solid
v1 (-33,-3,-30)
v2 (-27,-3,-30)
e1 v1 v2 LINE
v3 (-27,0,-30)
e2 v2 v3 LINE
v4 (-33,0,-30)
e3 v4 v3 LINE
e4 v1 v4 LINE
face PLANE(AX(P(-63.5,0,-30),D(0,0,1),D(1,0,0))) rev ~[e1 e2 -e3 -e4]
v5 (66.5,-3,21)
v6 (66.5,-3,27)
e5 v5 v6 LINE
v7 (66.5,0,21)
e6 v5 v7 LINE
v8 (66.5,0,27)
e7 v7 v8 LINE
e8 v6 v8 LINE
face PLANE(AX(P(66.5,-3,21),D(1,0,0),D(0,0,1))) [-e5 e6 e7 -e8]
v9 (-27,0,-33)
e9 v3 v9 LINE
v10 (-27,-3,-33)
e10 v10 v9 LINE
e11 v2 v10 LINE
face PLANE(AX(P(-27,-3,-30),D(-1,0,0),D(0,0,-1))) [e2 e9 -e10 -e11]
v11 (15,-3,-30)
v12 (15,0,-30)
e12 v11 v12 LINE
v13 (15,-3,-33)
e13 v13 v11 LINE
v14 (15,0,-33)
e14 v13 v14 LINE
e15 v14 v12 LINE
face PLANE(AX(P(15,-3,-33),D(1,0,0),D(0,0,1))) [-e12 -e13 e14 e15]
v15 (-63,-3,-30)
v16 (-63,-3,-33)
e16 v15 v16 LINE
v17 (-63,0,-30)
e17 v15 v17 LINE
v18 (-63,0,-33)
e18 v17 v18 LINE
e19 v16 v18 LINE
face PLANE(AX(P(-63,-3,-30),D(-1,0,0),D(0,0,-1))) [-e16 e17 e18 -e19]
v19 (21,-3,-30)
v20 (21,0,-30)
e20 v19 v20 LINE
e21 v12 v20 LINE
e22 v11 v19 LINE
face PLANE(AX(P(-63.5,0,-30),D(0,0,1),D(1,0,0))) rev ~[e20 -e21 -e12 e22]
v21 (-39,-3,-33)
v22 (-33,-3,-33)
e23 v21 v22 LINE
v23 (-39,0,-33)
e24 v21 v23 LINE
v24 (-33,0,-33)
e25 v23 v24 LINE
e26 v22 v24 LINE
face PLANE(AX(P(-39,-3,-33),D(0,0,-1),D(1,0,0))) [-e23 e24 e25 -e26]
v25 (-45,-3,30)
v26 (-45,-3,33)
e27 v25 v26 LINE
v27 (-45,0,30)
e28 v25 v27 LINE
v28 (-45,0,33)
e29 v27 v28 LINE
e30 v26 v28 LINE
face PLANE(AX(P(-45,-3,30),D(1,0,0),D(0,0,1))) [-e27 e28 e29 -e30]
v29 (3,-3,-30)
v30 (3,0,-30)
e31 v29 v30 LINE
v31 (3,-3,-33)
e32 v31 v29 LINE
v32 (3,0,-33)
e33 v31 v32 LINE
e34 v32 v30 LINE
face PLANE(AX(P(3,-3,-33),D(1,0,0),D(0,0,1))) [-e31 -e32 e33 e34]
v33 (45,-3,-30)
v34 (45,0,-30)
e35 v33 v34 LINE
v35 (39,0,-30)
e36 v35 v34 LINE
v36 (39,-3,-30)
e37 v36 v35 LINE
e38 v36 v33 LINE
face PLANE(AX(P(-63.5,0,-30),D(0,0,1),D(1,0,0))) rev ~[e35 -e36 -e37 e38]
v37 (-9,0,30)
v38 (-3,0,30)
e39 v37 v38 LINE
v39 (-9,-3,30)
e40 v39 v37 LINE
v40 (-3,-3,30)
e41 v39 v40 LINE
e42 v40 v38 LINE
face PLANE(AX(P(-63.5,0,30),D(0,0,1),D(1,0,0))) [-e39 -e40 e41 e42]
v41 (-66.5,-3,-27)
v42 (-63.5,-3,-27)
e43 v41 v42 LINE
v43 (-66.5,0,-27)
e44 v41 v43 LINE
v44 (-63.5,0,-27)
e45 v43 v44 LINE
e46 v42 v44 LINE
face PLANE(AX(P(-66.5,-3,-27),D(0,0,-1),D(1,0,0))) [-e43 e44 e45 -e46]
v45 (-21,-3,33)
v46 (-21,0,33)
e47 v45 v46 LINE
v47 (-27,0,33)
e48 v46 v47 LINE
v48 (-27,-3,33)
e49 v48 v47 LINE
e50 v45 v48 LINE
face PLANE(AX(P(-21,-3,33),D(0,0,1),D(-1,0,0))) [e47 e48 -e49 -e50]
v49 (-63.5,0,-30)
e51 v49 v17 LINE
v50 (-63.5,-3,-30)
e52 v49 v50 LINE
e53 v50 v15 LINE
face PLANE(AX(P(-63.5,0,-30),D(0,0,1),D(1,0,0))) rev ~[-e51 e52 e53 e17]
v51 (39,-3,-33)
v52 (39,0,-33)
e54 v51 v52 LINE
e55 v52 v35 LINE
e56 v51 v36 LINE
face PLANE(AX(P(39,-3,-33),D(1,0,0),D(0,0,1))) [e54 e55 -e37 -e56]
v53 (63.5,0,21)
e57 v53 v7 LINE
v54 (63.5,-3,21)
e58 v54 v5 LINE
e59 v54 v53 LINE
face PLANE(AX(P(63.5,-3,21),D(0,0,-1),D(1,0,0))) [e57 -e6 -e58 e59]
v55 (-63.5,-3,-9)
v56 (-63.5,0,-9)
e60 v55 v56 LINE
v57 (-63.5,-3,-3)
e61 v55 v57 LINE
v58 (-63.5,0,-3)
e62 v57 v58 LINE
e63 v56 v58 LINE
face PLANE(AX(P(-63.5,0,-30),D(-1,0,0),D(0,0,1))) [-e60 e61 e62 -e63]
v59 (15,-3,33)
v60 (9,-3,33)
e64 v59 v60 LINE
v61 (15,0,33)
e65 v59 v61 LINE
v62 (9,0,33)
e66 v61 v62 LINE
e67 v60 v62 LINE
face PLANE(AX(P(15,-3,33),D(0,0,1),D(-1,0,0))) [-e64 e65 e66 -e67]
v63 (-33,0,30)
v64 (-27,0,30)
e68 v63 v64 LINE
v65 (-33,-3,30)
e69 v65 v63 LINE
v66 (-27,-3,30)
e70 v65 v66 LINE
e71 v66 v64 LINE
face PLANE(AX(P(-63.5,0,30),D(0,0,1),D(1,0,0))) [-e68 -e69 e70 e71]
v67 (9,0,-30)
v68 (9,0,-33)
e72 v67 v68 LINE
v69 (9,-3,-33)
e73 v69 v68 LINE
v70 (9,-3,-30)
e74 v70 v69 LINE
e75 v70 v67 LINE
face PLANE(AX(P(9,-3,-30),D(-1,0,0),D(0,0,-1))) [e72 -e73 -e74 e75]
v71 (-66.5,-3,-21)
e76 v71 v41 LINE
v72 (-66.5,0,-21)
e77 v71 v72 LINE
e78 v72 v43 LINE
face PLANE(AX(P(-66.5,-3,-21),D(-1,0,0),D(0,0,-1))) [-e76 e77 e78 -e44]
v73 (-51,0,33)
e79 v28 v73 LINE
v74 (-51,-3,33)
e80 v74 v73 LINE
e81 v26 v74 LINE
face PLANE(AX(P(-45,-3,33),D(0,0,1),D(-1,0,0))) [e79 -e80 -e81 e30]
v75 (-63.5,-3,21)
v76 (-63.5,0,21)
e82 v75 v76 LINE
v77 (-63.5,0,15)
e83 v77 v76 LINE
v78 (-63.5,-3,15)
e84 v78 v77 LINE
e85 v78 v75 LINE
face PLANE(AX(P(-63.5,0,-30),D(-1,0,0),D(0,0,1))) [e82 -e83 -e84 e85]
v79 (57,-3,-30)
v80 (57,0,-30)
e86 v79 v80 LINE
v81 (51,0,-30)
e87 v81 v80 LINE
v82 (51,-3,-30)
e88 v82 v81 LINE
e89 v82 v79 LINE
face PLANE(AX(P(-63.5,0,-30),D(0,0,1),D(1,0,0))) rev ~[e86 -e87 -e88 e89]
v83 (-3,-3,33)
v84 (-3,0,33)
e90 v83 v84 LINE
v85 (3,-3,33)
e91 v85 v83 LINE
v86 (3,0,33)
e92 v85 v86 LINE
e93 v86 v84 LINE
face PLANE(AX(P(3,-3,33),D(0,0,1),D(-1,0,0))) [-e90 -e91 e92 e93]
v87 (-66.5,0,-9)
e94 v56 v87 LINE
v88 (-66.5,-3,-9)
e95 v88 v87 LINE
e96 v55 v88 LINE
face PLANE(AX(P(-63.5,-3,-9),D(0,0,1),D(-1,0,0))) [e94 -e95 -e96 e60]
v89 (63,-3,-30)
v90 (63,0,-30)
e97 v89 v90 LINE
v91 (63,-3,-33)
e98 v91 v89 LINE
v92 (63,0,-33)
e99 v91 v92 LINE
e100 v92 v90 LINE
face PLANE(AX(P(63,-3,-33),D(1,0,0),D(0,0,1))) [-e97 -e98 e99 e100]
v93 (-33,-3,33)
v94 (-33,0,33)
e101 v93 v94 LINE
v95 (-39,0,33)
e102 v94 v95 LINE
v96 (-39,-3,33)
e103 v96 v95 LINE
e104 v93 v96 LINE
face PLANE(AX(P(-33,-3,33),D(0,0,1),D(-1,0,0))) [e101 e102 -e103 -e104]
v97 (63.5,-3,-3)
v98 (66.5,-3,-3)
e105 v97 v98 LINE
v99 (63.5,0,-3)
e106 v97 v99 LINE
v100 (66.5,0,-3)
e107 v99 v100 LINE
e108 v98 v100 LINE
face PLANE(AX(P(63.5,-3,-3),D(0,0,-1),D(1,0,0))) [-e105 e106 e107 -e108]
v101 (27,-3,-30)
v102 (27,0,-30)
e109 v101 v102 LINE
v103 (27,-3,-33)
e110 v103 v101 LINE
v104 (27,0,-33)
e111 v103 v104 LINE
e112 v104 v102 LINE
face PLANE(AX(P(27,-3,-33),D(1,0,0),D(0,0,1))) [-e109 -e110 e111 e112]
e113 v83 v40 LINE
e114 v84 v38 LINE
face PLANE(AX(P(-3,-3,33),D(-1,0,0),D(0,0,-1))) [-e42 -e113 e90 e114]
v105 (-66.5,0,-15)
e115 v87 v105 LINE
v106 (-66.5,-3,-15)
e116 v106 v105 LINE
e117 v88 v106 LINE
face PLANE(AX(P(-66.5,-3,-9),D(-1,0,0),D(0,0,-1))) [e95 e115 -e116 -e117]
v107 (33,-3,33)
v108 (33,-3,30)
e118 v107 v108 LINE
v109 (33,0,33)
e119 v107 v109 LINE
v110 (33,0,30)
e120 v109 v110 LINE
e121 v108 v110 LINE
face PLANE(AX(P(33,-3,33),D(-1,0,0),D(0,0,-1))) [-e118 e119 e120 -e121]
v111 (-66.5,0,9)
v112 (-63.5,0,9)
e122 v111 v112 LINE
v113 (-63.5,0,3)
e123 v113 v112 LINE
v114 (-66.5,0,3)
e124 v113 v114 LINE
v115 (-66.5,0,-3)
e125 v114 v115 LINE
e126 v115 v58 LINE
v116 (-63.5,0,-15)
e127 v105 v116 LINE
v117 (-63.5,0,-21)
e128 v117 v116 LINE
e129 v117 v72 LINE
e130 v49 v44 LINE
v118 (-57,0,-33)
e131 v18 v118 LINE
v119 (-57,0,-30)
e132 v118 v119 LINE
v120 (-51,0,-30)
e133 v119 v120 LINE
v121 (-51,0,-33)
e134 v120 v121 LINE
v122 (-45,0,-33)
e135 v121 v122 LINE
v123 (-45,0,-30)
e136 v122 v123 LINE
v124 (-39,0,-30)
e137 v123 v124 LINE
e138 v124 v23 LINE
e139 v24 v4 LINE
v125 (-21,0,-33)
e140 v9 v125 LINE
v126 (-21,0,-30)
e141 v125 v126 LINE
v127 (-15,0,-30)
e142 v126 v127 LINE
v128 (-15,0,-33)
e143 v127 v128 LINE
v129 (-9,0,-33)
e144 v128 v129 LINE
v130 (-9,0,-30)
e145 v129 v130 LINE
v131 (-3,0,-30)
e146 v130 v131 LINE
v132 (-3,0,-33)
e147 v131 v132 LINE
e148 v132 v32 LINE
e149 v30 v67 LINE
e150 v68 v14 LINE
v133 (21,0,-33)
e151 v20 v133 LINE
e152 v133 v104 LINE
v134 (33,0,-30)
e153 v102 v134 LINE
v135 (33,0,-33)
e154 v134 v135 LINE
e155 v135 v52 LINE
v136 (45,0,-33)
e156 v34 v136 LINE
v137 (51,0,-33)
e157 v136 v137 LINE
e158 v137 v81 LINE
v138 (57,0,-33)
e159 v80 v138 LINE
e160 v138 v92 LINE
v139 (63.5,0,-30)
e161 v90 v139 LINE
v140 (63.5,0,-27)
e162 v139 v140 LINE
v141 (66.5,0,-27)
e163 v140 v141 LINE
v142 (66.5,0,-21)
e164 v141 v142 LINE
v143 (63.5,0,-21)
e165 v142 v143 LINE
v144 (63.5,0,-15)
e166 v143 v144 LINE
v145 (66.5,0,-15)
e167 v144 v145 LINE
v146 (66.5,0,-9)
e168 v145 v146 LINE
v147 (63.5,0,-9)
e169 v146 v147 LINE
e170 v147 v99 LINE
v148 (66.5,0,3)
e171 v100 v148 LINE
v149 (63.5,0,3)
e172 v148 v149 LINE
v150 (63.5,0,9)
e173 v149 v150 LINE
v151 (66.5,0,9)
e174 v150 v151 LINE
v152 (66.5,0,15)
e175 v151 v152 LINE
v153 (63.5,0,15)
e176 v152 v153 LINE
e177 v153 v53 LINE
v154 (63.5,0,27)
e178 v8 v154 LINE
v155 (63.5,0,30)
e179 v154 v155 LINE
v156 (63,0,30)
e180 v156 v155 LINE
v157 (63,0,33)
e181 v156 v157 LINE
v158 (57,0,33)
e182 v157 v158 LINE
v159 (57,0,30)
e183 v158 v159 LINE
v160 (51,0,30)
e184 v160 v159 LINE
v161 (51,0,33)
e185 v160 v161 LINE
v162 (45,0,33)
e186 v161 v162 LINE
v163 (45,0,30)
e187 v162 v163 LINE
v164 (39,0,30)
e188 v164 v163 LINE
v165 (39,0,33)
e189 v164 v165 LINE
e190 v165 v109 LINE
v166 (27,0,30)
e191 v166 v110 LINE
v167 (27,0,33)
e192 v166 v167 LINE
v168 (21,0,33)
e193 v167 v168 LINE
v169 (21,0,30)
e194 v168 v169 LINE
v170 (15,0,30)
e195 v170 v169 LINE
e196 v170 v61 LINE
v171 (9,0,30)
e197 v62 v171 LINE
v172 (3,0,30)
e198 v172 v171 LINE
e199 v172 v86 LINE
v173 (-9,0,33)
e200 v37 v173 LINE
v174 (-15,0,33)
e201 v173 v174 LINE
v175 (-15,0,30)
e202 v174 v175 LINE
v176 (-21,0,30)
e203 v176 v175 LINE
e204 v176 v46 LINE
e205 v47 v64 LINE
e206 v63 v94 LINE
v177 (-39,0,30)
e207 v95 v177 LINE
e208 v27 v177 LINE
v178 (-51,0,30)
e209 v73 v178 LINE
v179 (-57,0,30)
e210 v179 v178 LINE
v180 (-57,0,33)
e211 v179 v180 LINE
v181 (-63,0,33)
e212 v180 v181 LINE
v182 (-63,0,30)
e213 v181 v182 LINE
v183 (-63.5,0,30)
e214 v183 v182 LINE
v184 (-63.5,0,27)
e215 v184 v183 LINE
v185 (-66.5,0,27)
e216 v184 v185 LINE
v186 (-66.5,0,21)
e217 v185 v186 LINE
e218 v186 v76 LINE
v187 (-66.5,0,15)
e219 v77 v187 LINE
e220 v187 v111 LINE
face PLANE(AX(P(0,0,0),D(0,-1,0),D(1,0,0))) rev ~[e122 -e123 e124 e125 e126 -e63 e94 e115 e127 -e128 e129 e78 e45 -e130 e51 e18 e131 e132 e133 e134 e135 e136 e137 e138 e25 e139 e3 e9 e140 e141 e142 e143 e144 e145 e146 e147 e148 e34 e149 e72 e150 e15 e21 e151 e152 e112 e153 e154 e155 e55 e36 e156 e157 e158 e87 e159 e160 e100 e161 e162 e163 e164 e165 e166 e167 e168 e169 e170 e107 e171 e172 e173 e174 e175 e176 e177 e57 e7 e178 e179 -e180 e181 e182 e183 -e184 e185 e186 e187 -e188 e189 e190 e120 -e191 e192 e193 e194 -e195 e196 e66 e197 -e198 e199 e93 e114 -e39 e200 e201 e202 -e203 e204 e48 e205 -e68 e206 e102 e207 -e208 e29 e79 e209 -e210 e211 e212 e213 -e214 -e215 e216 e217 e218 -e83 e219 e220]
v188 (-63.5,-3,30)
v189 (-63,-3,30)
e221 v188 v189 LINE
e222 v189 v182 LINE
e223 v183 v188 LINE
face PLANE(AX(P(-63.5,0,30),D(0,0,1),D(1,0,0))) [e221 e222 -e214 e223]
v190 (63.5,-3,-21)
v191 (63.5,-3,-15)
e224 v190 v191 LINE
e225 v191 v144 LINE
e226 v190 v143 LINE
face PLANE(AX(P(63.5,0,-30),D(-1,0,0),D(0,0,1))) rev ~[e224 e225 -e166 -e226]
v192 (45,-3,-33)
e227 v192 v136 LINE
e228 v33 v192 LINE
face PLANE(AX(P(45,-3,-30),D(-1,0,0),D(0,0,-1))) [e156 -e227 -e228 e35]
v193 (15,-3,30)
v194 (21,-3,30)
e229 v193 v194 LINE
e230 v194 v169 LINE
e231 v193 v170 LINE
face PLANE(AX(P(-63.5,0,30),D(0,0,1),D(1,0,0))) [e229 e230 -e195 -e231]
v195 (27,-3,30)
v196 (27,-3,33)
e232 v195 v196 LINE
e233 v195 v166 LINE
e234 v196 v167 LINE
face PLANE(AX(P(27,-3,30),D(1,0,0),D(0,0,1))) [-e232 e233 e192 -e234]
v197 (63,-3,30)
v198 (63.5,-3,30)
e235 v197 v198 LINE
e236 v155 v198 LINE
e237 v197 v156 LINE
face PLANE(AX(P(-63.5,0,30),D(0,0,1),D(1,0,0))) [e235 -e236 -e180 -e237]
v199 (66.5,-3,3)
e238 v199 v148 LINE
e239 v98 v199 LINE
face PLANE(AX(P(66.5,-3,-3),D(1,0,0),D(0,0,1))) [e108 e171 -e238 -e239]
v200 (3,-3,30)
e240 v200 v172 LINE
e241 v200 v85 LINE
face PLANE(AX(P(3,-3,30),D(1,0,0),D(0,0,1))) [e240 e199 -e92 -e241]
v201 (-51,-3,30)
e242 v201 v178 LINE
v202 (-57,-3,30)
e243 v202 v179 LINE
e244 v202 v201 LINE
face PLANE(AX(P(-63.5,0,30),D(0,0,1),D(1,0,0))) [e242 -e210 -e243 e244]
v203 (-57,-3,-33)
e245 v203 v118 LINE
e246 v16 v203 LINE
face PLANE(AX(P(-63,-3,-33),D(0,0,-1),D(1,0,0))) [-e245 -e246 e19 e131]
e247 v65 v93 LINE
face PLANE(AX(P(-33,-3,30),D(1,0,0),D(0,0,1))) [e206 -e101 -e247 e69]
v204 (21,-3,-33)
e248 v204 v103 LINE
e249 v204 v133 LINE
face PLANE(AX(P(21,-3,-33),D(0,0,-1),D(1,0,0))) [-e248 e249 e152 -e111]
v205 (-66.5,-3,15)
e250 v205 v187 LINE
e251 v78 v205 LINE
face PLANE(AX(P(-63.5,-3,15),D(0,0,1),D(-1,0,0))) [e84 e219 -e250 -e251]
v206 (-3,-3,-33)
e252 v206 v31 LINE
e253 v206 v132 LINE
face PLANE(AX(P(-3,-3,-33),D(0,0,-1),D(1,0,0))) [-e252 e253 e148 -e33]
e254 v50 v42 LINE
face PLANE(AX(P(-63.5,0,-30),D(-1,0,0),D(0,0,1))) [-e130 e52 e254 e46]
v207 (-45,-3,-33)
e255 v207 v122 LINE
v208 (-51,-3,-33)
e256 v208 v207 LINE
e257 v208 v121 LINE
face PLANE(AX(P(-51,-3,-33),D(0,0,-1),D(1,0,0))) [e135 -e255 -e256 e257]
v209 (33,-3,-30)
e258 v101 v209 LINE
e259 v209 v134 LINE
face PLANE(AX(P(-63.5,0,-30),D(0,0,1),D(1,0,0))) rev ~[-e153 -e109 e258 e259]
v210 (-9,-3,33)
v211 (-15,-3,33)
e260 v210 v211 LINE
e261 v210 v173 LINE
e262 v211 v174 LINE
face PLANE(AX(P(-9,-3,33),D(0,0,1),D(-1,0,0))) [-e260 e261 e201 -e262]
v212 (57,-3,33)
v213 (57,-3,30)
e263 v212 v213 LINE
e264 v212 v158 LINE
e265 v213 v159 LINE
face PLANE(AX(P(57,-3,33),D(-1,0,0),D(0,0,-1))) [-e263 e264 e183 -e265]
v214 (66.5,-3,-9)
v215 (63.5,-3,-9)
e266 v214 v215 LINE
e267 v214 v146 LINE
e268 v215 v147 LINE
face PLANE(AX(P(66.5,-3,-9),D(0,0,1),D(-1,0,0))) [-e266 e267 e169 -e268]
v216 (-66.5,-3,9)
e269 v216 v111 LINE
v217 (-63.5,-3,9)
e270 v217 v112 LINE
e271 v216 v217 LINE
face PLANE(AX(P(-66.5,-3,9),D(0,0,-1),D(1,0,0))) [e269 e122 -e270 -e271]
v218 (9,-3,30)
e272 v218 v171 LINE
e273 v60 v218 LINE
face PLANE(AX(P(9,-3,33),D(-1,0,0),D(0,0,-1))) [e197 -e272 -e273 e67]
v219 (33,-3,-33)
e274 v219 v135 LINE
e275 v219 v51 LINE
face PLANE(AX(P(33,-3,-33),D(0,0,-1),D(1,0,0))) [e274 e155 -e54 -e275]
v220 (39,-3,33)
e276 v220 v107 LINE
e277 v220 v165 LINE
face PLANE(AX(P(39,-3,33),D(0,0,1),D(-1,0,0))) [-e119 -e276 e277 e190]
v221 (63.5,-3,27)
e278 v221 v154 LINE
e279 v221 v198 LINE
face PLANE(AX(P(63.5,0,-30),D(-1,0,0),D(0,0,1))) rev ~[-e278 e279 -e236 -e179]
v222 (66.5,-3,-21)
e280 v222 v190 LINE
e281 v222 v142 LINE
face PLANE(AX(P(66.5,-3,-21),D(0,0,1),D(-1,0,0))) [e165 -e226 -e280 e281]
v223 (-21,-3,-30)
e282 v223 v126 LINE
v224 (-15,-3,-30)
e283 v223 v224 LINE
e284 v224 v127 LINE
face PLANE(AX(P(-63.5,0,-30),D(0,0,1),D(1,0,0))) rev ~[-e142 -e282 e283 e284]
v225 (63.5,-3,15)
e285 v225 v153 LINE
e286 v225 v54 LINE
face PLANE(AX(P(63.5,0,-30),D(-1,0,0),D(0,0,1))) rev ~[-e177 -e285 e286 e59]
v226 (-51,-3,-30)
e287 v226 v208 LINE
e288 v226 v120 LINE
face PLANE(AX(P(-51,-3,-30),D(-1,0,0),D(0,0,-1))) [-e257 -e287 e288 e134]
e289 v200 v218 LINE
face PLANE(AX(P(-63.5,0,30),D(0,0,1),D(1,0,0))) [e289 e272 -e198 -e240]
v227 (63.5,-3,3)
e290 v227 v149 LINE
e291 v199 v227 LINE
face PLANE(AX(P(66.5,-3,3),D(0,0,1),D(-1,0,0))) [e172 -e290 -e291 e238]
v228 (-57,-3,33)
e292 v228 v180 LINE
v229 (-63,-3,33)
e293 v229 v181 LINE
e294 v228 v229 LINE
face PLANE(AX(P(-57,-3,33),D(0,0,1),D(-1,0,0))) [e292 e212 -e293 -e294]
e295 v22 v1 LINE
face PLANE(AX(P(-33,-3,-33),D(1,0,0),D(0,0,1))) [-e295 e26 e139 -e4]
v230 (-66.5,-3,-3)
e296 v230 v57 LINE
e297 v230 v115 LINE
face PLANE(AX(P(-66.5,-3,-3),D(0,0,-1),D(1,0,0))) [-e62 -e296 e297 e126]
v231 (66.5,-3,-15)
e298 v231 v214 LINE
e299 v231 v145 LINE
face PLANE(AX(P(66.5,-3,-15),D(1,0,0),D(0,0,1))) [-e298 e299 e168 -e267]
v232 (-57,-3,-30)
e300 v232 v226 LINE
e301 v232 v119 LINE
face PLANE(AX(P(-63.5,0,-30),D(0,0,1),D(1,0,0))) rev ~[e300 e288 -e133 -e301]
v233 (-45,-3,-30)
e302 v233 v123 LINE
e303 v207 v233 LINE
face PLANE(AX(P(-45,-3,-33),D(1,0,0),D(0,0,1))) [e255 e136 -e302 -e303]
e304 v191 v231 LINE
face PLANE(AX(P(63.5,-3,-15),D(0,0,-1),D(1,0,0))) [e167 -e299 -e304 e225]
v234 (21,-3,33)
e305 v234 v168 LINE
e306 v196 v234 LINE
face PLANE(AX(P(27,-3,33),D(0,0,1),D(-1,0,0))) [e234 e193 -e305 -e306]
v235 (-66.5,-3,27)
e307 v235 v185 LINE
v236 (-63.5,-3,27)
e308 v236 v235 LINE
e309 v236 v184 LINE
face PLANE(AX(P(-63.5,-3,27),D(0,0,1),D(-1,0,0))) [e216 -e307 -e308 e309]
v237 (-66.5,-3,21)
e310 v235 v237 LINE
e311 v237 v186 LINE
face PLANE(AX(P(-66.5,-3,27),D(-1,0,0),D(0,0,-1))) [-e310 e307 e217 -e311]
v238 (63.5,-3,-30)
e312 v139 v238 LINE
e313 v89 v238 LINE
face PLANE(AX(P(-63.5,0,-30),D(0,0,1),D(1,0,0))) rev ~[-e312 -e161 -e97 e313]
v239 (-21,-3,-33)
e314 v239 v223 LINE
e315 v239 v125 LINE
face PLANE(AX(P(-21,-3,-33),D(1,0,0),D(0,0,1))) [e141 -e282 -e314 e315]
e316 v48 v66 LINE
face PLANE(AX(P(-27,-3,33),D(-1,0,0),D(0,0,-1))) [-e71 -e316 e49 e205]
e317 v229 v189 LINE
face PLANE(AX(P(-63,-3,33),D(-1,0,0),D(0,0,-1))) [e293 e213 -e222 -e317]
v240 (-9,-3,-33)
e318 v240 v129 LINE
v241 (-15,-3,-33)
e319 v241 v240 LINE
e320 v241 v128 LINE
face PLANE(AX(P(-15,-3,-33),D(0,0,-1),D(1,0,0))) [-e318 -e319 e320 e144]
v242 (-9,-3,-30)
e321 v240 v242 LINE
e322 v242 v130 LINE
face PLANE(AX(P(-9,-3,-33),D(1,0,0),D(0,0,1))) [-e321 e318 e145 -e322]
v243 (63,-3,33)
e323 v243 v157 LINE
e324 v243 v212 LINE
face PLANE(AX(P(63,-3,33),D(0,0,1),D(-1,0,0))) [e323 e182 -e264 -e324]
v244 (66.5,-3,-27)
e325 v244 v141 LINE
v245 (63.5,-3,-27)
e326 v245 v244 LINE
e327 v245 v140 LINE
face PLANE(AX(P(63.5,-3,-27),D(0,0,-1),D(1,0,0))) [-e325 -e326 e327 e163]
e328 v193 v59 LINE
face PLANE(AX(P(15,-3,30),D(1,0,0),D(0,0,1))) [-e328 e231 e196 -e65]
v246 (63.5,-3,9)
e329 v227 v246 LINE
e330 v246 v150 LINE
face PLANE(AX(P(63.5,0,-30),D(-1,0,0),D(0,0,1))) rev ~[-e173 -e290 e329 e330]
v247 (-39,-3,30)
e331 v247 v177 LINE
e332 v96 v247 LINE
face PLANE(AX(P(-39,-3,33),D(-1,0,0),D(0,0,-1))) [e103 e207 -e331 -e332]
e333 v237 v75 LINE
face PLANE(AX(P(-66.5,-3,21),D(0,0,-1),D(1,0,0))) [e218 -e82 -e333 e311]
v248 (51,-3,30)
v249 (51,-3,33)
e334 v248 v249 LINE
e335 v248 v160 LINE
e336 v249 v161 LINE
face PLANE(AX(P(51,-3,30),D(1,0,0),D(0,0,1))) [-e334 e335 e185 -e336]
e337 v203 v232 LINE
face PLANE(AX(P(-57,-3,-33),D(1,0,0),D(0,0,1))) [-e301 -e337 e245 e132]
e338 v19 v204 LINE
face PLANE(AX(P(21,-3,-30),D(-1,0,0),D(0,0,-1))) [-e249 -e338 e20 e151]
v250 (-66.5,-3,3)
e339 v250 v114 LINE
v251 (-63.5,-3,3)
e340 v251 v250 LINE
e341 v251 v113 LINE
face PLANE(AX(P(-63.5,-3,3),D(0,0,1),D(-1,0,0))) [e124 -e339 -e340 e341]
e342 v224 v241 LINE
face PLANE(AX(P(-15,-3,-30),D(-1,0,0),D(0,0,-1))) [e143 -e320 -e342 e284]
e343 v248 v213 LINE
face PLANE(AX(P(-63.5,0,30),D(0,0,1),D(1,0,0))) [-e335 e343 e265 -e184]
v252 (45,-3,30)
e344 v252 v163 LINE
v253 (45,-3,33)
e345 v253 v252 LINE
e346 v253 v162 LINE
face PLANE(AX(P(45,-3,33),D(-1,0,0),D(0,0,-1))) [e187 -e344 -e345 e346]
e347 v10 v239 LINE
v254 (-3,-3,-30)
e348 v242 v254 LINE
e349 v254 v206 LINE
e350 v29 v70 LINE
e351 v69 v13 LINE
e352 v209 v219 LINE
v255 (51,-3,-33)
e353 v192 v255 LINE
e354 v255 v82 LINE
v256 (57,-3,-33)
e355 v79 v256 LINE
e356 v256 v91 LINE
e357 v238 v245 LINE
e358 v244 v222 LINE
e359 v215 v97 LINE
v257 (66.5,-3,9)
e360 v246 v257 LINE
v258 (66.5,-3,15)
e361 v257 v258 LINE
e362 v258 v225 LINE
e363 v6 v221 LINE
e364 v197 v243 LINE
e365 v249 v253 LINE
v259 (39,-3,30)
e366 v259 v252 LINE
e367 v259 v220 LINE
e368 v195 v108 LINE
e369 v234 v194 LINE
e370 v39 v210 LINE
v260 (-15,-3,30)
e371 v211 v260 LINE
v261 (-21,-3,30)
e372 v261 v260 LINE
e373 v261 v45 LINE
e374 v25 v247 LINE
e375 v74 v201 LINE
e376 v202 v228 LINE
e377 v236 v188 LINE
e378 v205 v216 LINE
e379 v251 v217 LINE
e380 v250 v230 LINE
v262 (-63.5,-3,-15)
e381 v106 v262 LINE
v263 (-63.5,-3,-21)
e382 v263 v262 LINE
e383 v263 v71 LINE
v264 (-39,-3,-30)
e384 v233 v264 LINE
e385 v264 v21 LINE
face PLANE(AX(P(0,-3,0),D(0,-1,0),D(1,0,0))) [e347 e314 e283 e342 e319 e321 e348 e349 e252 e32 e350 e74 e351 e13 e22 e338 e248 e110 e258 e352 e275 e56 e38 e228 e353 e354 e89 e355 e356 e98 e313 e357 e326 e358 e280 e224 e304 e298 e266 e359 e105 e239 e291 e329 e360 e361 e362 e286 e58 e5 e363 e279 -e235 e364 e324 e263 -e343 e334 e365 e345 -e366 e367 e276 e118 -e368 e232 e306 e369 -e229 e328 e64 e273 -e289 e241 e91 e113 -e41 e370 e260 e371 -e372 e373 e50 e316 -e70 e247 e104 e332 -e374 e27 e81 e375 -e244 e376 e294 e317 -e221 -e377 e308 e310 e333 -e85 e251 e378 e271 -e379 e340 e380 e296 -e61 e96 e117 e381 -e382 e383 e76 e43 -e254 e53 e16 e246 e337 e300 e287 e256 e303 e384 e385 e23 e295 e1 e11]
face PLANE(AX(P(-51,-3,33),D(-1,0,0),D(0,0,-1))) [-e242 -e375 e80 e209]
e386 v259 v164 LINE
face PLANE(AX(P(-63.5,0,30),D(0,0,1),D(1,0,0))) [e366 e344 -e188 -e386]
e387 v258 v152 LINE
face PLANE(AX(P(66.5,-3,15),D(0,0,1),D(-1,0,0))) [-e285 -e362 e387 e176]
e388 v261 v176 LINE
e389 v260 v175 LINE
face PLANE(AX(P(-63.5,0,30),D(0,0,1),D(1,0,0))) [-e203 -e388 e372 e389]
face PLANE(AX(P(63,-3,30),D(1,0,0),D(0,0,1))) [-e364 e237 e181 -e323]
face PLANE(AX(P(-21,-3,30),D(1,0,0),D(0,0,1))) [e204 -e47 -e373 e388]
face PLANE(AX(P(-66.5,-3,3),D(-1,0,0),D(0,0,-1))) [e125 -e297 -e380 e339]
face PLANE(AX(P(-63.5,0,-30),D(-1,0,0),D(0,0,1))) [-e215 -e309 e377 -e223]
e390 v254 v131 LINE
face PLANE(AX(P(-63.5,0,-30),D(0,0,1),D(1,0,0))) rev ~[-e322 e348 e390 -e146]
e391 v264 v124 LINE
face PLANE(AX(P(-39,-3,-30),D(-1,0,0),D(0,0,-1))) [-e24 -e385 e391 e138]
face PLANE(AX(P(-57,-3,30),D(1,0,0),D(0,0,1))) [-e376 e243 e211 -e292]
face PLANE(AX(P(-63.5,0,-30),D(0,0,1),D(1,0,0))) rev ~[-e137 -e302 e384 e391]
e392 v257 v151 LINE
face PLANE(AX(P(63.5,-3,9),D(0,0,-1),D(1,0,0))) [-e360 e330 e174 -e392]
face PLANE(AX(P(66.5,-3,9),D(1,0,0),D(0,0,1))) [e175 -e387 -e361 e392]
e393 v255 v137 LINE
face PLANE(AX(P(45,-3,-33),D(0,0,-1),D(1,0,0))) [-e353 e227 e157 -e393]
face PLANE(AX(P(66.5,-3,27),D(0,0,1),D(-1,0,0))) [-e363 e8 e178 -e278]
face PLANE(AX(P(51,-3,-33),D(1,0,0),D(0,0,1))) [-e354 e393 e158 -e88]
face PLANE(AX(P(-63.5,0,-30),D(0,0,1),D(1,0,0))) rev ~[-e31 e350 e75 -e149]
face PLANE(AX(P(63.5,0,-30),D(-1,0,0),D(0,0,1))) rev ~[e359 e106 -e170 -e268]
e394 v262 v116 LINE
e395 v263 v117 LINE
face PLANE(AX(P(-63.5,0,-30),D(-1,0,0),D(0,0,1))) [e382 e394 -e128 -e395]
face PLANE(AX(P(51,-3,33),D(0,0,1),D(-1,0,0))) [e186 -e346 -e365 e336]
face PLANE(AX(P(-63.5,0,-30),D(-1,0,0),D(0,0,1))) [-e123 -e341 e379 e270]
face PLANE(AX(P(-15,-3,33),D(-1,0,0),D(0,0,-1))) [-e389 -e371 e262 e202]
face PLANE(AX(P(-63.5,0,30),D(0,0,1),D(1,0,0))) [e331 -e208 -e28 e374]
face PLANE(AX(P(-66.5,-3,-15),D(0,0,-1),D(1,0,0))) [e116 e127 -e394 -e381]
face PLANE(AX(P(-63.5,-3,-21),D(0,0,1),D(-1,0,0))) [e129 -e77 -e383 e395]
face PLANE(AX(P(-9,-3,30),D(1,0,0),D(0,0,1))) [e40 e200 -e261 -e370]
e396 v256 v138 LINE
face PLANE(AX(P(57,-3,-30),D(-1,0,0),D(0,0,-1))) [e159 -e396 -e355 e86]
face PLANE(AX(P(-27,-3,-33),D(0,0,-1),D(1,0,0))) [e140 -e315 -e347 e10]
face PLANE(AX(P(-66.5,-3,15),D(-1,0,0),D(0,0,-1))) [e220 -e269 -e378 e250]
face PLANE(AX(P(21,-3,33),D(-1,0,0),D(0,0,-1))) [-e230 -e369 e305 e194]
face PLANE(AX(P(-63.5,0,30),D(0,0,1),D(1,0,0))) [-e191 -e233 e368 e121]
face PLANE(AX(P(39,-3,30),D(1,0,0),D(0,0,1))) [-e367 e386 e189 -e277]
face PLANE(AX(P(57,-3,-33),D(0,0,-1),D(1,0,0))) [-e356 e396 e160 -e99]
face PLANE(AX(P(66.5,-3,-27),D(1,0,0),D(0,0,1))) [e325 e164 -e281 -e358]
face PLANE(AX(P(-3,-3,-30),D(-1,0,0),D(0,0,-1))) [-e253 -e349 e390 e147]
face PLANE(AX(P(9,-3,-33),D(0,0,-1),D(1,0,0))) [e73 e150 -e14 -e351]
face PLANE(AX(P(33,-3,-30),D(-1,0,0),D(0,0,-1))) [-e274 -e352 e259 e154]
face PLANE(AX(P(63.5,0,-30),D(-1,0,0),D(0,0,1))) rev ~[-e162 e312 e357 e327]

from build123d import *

# Parameters (mm, degrees)
F0_W     = 127
F0_H     = 60
F1_DEPTH = 3
F3_DEPTH = 3
F5_DEPTH = 3


with BuildPart() as f1:
    # F0 (on Front) → F1 (new body)
    with BuildSketch(Plane.XZ):
        Rectangle(F0_W, F0_H)
    extrude(amount=F1_DEPTH)

    # F2 (on face) → F3 (join, through all)
    with BuildSketch(Plane.XZ.offset(3)):
        Polygon((-3, 30), (0, 30), (3, 30), (3, 33), (0, 33), (-3, 33), align=None)
        Polygon((9, 30), (12, 30), (15, 30), (15, 33), (12, 33), (9, 33), align=None)
        Polygon((21, 30), (24, 30), (27, 30), (27, 33), (24, 33), (21, 33), align=None)
        Polygon((33, 30), (36, 30), (39, 30), (39, 33), (36, 33), (33, 33), align=None)
        Polygon((45, 30), (48, 30), (51, 30), (51, 33), (48, 33), (45, 33), align=None)
        Polygon((57, 30), (60, 30), (63, 30), (63, 33), (60, 33), (57, 33), align=None)
        Polygon((-36, 30), (-33, 30), (-33, 33), (-36, 33), (-39, 33), (-39, 30), align=None)
        Polygon((-63, 30), (-60, 30), (-57, 30), (-57, 33), (-60, 33), (-63, 33), align=None)
        Polygon((-45, 30), (-45, 33), (-48, 33), (-51, 33), (-51, 30), (-48, 30), align=None)
        Polygon((-27, 30), (-24, 30), (-21, 30), (-21, 33), (-24, 33), (-27, 33), align=None)
        Polygon((-15, 30), (-12, 30), (-9, 30), (-9, 33), (-12, 33), (-15, 33), align=None)
        Polygon((-9, -33), (-9, -30), (-12, -30), (-15, -30), (-15, -33), (-12, -33), align=None)
        Polygon((36, -30), (33, -30), (33, -33), (36, -33), (39, -33), (39, -30), align=None)
        Polygon((63, -30), (60, -30), (57, -30), (57, -33), (60, -33), (63, -33), align=None)
        Polygon((45, -30), (45, -33), (48, -33), (51, -33), (51, -30), (48, -30), align=None)
        Polygon((-36, -30), (-39, -30), (-39, -33), (-36, -33), (-33, -33), (-33, -30), align=None)
        Polygon((-57, -30), (-60, -30), (-63, -30), (-63, -33), (-60, -33), (-57, -33), align=None)
        Polygon((-51, -30), (-51, -33), (-48, -33), (-45, -33), (-45, -30), (-48, -30), align=None)
        Polygon((27, -30), (24, -30), (21, -30), (21, -33), (24, -33), (27, -33), align=None)
        Polygon((15, -30), (12, -30), (9, -30), (9, -33), (12, -33), (15, -33), align=None)
        Polygon((3, -30), (0, -30), (-3, -30), (-3, -33), (0, -33), (3, -33), align=None)
        Polygon((-27, -30), (-27, -33), (-24, -33), (-21, -33), (-21, -30), (-24, -30), align=None)
    extrude(amount=-F3_DEPTH)

    # F4 (on face) → F5 (join, through all)
    with BuildSketch(Plane.XZ.offset(3)):
        Polygon((-63.5, -3), (-63.5, 0), (-63.5, 3), (-66.5, 3), (-66.5, 0), (-66.5, -3), align=None)
        Polygon((-63.5, 9), (-63.5, 12), (-63.5, 15), (-66.5, 15), (-66.5, 12), (-66.5, 9), align=None)
        Polygon((-63.5, 21), (-63.5, 24), (-63.5, 27), (-66.5, 27), (-66.5, 24), (-66.5, 21), align=None)
        Polygon((-63.5, -24), (-63.5, -21), (-66.5, -21), (-66.5, -24), (-66.5, -27), (-63.5, -27), align=None)
        Polygon((-63.5, -15), (-63.5, -12), (-63.5, -9), (-66.5, -9), (-66.5, -12), (-66.5, -15), align=None)
        Polygon((66.5, 24), (66.5, 27), (63.5, 27), (63.5, 24), (63.5, 21), (66.5, 21), align=None)
        Polygon((63.5, -9), (63.5, -12), (63.5, -15), (66.5, -15), (66.5, -12), (66.5, -9), align=None)
        Polygon((63.5, -24), (63.5, -27), (66.5, -27), (66.5, -24), (66.5, -21), (63.5, -21), align=None)
        Polygon((66.5, 12), (66.5, 15), (63.5, 15), (63.5, 12), (63.5, 9), (66.5, 9), align=None)
        Polygon((63.5, 0), (63.5, -3), (66.5, -3), (66.5, 0), (66.5, 3), (63.5, 3), align=None)
    extrude(amount=-F5_DEPTH)


solid = f1.part
